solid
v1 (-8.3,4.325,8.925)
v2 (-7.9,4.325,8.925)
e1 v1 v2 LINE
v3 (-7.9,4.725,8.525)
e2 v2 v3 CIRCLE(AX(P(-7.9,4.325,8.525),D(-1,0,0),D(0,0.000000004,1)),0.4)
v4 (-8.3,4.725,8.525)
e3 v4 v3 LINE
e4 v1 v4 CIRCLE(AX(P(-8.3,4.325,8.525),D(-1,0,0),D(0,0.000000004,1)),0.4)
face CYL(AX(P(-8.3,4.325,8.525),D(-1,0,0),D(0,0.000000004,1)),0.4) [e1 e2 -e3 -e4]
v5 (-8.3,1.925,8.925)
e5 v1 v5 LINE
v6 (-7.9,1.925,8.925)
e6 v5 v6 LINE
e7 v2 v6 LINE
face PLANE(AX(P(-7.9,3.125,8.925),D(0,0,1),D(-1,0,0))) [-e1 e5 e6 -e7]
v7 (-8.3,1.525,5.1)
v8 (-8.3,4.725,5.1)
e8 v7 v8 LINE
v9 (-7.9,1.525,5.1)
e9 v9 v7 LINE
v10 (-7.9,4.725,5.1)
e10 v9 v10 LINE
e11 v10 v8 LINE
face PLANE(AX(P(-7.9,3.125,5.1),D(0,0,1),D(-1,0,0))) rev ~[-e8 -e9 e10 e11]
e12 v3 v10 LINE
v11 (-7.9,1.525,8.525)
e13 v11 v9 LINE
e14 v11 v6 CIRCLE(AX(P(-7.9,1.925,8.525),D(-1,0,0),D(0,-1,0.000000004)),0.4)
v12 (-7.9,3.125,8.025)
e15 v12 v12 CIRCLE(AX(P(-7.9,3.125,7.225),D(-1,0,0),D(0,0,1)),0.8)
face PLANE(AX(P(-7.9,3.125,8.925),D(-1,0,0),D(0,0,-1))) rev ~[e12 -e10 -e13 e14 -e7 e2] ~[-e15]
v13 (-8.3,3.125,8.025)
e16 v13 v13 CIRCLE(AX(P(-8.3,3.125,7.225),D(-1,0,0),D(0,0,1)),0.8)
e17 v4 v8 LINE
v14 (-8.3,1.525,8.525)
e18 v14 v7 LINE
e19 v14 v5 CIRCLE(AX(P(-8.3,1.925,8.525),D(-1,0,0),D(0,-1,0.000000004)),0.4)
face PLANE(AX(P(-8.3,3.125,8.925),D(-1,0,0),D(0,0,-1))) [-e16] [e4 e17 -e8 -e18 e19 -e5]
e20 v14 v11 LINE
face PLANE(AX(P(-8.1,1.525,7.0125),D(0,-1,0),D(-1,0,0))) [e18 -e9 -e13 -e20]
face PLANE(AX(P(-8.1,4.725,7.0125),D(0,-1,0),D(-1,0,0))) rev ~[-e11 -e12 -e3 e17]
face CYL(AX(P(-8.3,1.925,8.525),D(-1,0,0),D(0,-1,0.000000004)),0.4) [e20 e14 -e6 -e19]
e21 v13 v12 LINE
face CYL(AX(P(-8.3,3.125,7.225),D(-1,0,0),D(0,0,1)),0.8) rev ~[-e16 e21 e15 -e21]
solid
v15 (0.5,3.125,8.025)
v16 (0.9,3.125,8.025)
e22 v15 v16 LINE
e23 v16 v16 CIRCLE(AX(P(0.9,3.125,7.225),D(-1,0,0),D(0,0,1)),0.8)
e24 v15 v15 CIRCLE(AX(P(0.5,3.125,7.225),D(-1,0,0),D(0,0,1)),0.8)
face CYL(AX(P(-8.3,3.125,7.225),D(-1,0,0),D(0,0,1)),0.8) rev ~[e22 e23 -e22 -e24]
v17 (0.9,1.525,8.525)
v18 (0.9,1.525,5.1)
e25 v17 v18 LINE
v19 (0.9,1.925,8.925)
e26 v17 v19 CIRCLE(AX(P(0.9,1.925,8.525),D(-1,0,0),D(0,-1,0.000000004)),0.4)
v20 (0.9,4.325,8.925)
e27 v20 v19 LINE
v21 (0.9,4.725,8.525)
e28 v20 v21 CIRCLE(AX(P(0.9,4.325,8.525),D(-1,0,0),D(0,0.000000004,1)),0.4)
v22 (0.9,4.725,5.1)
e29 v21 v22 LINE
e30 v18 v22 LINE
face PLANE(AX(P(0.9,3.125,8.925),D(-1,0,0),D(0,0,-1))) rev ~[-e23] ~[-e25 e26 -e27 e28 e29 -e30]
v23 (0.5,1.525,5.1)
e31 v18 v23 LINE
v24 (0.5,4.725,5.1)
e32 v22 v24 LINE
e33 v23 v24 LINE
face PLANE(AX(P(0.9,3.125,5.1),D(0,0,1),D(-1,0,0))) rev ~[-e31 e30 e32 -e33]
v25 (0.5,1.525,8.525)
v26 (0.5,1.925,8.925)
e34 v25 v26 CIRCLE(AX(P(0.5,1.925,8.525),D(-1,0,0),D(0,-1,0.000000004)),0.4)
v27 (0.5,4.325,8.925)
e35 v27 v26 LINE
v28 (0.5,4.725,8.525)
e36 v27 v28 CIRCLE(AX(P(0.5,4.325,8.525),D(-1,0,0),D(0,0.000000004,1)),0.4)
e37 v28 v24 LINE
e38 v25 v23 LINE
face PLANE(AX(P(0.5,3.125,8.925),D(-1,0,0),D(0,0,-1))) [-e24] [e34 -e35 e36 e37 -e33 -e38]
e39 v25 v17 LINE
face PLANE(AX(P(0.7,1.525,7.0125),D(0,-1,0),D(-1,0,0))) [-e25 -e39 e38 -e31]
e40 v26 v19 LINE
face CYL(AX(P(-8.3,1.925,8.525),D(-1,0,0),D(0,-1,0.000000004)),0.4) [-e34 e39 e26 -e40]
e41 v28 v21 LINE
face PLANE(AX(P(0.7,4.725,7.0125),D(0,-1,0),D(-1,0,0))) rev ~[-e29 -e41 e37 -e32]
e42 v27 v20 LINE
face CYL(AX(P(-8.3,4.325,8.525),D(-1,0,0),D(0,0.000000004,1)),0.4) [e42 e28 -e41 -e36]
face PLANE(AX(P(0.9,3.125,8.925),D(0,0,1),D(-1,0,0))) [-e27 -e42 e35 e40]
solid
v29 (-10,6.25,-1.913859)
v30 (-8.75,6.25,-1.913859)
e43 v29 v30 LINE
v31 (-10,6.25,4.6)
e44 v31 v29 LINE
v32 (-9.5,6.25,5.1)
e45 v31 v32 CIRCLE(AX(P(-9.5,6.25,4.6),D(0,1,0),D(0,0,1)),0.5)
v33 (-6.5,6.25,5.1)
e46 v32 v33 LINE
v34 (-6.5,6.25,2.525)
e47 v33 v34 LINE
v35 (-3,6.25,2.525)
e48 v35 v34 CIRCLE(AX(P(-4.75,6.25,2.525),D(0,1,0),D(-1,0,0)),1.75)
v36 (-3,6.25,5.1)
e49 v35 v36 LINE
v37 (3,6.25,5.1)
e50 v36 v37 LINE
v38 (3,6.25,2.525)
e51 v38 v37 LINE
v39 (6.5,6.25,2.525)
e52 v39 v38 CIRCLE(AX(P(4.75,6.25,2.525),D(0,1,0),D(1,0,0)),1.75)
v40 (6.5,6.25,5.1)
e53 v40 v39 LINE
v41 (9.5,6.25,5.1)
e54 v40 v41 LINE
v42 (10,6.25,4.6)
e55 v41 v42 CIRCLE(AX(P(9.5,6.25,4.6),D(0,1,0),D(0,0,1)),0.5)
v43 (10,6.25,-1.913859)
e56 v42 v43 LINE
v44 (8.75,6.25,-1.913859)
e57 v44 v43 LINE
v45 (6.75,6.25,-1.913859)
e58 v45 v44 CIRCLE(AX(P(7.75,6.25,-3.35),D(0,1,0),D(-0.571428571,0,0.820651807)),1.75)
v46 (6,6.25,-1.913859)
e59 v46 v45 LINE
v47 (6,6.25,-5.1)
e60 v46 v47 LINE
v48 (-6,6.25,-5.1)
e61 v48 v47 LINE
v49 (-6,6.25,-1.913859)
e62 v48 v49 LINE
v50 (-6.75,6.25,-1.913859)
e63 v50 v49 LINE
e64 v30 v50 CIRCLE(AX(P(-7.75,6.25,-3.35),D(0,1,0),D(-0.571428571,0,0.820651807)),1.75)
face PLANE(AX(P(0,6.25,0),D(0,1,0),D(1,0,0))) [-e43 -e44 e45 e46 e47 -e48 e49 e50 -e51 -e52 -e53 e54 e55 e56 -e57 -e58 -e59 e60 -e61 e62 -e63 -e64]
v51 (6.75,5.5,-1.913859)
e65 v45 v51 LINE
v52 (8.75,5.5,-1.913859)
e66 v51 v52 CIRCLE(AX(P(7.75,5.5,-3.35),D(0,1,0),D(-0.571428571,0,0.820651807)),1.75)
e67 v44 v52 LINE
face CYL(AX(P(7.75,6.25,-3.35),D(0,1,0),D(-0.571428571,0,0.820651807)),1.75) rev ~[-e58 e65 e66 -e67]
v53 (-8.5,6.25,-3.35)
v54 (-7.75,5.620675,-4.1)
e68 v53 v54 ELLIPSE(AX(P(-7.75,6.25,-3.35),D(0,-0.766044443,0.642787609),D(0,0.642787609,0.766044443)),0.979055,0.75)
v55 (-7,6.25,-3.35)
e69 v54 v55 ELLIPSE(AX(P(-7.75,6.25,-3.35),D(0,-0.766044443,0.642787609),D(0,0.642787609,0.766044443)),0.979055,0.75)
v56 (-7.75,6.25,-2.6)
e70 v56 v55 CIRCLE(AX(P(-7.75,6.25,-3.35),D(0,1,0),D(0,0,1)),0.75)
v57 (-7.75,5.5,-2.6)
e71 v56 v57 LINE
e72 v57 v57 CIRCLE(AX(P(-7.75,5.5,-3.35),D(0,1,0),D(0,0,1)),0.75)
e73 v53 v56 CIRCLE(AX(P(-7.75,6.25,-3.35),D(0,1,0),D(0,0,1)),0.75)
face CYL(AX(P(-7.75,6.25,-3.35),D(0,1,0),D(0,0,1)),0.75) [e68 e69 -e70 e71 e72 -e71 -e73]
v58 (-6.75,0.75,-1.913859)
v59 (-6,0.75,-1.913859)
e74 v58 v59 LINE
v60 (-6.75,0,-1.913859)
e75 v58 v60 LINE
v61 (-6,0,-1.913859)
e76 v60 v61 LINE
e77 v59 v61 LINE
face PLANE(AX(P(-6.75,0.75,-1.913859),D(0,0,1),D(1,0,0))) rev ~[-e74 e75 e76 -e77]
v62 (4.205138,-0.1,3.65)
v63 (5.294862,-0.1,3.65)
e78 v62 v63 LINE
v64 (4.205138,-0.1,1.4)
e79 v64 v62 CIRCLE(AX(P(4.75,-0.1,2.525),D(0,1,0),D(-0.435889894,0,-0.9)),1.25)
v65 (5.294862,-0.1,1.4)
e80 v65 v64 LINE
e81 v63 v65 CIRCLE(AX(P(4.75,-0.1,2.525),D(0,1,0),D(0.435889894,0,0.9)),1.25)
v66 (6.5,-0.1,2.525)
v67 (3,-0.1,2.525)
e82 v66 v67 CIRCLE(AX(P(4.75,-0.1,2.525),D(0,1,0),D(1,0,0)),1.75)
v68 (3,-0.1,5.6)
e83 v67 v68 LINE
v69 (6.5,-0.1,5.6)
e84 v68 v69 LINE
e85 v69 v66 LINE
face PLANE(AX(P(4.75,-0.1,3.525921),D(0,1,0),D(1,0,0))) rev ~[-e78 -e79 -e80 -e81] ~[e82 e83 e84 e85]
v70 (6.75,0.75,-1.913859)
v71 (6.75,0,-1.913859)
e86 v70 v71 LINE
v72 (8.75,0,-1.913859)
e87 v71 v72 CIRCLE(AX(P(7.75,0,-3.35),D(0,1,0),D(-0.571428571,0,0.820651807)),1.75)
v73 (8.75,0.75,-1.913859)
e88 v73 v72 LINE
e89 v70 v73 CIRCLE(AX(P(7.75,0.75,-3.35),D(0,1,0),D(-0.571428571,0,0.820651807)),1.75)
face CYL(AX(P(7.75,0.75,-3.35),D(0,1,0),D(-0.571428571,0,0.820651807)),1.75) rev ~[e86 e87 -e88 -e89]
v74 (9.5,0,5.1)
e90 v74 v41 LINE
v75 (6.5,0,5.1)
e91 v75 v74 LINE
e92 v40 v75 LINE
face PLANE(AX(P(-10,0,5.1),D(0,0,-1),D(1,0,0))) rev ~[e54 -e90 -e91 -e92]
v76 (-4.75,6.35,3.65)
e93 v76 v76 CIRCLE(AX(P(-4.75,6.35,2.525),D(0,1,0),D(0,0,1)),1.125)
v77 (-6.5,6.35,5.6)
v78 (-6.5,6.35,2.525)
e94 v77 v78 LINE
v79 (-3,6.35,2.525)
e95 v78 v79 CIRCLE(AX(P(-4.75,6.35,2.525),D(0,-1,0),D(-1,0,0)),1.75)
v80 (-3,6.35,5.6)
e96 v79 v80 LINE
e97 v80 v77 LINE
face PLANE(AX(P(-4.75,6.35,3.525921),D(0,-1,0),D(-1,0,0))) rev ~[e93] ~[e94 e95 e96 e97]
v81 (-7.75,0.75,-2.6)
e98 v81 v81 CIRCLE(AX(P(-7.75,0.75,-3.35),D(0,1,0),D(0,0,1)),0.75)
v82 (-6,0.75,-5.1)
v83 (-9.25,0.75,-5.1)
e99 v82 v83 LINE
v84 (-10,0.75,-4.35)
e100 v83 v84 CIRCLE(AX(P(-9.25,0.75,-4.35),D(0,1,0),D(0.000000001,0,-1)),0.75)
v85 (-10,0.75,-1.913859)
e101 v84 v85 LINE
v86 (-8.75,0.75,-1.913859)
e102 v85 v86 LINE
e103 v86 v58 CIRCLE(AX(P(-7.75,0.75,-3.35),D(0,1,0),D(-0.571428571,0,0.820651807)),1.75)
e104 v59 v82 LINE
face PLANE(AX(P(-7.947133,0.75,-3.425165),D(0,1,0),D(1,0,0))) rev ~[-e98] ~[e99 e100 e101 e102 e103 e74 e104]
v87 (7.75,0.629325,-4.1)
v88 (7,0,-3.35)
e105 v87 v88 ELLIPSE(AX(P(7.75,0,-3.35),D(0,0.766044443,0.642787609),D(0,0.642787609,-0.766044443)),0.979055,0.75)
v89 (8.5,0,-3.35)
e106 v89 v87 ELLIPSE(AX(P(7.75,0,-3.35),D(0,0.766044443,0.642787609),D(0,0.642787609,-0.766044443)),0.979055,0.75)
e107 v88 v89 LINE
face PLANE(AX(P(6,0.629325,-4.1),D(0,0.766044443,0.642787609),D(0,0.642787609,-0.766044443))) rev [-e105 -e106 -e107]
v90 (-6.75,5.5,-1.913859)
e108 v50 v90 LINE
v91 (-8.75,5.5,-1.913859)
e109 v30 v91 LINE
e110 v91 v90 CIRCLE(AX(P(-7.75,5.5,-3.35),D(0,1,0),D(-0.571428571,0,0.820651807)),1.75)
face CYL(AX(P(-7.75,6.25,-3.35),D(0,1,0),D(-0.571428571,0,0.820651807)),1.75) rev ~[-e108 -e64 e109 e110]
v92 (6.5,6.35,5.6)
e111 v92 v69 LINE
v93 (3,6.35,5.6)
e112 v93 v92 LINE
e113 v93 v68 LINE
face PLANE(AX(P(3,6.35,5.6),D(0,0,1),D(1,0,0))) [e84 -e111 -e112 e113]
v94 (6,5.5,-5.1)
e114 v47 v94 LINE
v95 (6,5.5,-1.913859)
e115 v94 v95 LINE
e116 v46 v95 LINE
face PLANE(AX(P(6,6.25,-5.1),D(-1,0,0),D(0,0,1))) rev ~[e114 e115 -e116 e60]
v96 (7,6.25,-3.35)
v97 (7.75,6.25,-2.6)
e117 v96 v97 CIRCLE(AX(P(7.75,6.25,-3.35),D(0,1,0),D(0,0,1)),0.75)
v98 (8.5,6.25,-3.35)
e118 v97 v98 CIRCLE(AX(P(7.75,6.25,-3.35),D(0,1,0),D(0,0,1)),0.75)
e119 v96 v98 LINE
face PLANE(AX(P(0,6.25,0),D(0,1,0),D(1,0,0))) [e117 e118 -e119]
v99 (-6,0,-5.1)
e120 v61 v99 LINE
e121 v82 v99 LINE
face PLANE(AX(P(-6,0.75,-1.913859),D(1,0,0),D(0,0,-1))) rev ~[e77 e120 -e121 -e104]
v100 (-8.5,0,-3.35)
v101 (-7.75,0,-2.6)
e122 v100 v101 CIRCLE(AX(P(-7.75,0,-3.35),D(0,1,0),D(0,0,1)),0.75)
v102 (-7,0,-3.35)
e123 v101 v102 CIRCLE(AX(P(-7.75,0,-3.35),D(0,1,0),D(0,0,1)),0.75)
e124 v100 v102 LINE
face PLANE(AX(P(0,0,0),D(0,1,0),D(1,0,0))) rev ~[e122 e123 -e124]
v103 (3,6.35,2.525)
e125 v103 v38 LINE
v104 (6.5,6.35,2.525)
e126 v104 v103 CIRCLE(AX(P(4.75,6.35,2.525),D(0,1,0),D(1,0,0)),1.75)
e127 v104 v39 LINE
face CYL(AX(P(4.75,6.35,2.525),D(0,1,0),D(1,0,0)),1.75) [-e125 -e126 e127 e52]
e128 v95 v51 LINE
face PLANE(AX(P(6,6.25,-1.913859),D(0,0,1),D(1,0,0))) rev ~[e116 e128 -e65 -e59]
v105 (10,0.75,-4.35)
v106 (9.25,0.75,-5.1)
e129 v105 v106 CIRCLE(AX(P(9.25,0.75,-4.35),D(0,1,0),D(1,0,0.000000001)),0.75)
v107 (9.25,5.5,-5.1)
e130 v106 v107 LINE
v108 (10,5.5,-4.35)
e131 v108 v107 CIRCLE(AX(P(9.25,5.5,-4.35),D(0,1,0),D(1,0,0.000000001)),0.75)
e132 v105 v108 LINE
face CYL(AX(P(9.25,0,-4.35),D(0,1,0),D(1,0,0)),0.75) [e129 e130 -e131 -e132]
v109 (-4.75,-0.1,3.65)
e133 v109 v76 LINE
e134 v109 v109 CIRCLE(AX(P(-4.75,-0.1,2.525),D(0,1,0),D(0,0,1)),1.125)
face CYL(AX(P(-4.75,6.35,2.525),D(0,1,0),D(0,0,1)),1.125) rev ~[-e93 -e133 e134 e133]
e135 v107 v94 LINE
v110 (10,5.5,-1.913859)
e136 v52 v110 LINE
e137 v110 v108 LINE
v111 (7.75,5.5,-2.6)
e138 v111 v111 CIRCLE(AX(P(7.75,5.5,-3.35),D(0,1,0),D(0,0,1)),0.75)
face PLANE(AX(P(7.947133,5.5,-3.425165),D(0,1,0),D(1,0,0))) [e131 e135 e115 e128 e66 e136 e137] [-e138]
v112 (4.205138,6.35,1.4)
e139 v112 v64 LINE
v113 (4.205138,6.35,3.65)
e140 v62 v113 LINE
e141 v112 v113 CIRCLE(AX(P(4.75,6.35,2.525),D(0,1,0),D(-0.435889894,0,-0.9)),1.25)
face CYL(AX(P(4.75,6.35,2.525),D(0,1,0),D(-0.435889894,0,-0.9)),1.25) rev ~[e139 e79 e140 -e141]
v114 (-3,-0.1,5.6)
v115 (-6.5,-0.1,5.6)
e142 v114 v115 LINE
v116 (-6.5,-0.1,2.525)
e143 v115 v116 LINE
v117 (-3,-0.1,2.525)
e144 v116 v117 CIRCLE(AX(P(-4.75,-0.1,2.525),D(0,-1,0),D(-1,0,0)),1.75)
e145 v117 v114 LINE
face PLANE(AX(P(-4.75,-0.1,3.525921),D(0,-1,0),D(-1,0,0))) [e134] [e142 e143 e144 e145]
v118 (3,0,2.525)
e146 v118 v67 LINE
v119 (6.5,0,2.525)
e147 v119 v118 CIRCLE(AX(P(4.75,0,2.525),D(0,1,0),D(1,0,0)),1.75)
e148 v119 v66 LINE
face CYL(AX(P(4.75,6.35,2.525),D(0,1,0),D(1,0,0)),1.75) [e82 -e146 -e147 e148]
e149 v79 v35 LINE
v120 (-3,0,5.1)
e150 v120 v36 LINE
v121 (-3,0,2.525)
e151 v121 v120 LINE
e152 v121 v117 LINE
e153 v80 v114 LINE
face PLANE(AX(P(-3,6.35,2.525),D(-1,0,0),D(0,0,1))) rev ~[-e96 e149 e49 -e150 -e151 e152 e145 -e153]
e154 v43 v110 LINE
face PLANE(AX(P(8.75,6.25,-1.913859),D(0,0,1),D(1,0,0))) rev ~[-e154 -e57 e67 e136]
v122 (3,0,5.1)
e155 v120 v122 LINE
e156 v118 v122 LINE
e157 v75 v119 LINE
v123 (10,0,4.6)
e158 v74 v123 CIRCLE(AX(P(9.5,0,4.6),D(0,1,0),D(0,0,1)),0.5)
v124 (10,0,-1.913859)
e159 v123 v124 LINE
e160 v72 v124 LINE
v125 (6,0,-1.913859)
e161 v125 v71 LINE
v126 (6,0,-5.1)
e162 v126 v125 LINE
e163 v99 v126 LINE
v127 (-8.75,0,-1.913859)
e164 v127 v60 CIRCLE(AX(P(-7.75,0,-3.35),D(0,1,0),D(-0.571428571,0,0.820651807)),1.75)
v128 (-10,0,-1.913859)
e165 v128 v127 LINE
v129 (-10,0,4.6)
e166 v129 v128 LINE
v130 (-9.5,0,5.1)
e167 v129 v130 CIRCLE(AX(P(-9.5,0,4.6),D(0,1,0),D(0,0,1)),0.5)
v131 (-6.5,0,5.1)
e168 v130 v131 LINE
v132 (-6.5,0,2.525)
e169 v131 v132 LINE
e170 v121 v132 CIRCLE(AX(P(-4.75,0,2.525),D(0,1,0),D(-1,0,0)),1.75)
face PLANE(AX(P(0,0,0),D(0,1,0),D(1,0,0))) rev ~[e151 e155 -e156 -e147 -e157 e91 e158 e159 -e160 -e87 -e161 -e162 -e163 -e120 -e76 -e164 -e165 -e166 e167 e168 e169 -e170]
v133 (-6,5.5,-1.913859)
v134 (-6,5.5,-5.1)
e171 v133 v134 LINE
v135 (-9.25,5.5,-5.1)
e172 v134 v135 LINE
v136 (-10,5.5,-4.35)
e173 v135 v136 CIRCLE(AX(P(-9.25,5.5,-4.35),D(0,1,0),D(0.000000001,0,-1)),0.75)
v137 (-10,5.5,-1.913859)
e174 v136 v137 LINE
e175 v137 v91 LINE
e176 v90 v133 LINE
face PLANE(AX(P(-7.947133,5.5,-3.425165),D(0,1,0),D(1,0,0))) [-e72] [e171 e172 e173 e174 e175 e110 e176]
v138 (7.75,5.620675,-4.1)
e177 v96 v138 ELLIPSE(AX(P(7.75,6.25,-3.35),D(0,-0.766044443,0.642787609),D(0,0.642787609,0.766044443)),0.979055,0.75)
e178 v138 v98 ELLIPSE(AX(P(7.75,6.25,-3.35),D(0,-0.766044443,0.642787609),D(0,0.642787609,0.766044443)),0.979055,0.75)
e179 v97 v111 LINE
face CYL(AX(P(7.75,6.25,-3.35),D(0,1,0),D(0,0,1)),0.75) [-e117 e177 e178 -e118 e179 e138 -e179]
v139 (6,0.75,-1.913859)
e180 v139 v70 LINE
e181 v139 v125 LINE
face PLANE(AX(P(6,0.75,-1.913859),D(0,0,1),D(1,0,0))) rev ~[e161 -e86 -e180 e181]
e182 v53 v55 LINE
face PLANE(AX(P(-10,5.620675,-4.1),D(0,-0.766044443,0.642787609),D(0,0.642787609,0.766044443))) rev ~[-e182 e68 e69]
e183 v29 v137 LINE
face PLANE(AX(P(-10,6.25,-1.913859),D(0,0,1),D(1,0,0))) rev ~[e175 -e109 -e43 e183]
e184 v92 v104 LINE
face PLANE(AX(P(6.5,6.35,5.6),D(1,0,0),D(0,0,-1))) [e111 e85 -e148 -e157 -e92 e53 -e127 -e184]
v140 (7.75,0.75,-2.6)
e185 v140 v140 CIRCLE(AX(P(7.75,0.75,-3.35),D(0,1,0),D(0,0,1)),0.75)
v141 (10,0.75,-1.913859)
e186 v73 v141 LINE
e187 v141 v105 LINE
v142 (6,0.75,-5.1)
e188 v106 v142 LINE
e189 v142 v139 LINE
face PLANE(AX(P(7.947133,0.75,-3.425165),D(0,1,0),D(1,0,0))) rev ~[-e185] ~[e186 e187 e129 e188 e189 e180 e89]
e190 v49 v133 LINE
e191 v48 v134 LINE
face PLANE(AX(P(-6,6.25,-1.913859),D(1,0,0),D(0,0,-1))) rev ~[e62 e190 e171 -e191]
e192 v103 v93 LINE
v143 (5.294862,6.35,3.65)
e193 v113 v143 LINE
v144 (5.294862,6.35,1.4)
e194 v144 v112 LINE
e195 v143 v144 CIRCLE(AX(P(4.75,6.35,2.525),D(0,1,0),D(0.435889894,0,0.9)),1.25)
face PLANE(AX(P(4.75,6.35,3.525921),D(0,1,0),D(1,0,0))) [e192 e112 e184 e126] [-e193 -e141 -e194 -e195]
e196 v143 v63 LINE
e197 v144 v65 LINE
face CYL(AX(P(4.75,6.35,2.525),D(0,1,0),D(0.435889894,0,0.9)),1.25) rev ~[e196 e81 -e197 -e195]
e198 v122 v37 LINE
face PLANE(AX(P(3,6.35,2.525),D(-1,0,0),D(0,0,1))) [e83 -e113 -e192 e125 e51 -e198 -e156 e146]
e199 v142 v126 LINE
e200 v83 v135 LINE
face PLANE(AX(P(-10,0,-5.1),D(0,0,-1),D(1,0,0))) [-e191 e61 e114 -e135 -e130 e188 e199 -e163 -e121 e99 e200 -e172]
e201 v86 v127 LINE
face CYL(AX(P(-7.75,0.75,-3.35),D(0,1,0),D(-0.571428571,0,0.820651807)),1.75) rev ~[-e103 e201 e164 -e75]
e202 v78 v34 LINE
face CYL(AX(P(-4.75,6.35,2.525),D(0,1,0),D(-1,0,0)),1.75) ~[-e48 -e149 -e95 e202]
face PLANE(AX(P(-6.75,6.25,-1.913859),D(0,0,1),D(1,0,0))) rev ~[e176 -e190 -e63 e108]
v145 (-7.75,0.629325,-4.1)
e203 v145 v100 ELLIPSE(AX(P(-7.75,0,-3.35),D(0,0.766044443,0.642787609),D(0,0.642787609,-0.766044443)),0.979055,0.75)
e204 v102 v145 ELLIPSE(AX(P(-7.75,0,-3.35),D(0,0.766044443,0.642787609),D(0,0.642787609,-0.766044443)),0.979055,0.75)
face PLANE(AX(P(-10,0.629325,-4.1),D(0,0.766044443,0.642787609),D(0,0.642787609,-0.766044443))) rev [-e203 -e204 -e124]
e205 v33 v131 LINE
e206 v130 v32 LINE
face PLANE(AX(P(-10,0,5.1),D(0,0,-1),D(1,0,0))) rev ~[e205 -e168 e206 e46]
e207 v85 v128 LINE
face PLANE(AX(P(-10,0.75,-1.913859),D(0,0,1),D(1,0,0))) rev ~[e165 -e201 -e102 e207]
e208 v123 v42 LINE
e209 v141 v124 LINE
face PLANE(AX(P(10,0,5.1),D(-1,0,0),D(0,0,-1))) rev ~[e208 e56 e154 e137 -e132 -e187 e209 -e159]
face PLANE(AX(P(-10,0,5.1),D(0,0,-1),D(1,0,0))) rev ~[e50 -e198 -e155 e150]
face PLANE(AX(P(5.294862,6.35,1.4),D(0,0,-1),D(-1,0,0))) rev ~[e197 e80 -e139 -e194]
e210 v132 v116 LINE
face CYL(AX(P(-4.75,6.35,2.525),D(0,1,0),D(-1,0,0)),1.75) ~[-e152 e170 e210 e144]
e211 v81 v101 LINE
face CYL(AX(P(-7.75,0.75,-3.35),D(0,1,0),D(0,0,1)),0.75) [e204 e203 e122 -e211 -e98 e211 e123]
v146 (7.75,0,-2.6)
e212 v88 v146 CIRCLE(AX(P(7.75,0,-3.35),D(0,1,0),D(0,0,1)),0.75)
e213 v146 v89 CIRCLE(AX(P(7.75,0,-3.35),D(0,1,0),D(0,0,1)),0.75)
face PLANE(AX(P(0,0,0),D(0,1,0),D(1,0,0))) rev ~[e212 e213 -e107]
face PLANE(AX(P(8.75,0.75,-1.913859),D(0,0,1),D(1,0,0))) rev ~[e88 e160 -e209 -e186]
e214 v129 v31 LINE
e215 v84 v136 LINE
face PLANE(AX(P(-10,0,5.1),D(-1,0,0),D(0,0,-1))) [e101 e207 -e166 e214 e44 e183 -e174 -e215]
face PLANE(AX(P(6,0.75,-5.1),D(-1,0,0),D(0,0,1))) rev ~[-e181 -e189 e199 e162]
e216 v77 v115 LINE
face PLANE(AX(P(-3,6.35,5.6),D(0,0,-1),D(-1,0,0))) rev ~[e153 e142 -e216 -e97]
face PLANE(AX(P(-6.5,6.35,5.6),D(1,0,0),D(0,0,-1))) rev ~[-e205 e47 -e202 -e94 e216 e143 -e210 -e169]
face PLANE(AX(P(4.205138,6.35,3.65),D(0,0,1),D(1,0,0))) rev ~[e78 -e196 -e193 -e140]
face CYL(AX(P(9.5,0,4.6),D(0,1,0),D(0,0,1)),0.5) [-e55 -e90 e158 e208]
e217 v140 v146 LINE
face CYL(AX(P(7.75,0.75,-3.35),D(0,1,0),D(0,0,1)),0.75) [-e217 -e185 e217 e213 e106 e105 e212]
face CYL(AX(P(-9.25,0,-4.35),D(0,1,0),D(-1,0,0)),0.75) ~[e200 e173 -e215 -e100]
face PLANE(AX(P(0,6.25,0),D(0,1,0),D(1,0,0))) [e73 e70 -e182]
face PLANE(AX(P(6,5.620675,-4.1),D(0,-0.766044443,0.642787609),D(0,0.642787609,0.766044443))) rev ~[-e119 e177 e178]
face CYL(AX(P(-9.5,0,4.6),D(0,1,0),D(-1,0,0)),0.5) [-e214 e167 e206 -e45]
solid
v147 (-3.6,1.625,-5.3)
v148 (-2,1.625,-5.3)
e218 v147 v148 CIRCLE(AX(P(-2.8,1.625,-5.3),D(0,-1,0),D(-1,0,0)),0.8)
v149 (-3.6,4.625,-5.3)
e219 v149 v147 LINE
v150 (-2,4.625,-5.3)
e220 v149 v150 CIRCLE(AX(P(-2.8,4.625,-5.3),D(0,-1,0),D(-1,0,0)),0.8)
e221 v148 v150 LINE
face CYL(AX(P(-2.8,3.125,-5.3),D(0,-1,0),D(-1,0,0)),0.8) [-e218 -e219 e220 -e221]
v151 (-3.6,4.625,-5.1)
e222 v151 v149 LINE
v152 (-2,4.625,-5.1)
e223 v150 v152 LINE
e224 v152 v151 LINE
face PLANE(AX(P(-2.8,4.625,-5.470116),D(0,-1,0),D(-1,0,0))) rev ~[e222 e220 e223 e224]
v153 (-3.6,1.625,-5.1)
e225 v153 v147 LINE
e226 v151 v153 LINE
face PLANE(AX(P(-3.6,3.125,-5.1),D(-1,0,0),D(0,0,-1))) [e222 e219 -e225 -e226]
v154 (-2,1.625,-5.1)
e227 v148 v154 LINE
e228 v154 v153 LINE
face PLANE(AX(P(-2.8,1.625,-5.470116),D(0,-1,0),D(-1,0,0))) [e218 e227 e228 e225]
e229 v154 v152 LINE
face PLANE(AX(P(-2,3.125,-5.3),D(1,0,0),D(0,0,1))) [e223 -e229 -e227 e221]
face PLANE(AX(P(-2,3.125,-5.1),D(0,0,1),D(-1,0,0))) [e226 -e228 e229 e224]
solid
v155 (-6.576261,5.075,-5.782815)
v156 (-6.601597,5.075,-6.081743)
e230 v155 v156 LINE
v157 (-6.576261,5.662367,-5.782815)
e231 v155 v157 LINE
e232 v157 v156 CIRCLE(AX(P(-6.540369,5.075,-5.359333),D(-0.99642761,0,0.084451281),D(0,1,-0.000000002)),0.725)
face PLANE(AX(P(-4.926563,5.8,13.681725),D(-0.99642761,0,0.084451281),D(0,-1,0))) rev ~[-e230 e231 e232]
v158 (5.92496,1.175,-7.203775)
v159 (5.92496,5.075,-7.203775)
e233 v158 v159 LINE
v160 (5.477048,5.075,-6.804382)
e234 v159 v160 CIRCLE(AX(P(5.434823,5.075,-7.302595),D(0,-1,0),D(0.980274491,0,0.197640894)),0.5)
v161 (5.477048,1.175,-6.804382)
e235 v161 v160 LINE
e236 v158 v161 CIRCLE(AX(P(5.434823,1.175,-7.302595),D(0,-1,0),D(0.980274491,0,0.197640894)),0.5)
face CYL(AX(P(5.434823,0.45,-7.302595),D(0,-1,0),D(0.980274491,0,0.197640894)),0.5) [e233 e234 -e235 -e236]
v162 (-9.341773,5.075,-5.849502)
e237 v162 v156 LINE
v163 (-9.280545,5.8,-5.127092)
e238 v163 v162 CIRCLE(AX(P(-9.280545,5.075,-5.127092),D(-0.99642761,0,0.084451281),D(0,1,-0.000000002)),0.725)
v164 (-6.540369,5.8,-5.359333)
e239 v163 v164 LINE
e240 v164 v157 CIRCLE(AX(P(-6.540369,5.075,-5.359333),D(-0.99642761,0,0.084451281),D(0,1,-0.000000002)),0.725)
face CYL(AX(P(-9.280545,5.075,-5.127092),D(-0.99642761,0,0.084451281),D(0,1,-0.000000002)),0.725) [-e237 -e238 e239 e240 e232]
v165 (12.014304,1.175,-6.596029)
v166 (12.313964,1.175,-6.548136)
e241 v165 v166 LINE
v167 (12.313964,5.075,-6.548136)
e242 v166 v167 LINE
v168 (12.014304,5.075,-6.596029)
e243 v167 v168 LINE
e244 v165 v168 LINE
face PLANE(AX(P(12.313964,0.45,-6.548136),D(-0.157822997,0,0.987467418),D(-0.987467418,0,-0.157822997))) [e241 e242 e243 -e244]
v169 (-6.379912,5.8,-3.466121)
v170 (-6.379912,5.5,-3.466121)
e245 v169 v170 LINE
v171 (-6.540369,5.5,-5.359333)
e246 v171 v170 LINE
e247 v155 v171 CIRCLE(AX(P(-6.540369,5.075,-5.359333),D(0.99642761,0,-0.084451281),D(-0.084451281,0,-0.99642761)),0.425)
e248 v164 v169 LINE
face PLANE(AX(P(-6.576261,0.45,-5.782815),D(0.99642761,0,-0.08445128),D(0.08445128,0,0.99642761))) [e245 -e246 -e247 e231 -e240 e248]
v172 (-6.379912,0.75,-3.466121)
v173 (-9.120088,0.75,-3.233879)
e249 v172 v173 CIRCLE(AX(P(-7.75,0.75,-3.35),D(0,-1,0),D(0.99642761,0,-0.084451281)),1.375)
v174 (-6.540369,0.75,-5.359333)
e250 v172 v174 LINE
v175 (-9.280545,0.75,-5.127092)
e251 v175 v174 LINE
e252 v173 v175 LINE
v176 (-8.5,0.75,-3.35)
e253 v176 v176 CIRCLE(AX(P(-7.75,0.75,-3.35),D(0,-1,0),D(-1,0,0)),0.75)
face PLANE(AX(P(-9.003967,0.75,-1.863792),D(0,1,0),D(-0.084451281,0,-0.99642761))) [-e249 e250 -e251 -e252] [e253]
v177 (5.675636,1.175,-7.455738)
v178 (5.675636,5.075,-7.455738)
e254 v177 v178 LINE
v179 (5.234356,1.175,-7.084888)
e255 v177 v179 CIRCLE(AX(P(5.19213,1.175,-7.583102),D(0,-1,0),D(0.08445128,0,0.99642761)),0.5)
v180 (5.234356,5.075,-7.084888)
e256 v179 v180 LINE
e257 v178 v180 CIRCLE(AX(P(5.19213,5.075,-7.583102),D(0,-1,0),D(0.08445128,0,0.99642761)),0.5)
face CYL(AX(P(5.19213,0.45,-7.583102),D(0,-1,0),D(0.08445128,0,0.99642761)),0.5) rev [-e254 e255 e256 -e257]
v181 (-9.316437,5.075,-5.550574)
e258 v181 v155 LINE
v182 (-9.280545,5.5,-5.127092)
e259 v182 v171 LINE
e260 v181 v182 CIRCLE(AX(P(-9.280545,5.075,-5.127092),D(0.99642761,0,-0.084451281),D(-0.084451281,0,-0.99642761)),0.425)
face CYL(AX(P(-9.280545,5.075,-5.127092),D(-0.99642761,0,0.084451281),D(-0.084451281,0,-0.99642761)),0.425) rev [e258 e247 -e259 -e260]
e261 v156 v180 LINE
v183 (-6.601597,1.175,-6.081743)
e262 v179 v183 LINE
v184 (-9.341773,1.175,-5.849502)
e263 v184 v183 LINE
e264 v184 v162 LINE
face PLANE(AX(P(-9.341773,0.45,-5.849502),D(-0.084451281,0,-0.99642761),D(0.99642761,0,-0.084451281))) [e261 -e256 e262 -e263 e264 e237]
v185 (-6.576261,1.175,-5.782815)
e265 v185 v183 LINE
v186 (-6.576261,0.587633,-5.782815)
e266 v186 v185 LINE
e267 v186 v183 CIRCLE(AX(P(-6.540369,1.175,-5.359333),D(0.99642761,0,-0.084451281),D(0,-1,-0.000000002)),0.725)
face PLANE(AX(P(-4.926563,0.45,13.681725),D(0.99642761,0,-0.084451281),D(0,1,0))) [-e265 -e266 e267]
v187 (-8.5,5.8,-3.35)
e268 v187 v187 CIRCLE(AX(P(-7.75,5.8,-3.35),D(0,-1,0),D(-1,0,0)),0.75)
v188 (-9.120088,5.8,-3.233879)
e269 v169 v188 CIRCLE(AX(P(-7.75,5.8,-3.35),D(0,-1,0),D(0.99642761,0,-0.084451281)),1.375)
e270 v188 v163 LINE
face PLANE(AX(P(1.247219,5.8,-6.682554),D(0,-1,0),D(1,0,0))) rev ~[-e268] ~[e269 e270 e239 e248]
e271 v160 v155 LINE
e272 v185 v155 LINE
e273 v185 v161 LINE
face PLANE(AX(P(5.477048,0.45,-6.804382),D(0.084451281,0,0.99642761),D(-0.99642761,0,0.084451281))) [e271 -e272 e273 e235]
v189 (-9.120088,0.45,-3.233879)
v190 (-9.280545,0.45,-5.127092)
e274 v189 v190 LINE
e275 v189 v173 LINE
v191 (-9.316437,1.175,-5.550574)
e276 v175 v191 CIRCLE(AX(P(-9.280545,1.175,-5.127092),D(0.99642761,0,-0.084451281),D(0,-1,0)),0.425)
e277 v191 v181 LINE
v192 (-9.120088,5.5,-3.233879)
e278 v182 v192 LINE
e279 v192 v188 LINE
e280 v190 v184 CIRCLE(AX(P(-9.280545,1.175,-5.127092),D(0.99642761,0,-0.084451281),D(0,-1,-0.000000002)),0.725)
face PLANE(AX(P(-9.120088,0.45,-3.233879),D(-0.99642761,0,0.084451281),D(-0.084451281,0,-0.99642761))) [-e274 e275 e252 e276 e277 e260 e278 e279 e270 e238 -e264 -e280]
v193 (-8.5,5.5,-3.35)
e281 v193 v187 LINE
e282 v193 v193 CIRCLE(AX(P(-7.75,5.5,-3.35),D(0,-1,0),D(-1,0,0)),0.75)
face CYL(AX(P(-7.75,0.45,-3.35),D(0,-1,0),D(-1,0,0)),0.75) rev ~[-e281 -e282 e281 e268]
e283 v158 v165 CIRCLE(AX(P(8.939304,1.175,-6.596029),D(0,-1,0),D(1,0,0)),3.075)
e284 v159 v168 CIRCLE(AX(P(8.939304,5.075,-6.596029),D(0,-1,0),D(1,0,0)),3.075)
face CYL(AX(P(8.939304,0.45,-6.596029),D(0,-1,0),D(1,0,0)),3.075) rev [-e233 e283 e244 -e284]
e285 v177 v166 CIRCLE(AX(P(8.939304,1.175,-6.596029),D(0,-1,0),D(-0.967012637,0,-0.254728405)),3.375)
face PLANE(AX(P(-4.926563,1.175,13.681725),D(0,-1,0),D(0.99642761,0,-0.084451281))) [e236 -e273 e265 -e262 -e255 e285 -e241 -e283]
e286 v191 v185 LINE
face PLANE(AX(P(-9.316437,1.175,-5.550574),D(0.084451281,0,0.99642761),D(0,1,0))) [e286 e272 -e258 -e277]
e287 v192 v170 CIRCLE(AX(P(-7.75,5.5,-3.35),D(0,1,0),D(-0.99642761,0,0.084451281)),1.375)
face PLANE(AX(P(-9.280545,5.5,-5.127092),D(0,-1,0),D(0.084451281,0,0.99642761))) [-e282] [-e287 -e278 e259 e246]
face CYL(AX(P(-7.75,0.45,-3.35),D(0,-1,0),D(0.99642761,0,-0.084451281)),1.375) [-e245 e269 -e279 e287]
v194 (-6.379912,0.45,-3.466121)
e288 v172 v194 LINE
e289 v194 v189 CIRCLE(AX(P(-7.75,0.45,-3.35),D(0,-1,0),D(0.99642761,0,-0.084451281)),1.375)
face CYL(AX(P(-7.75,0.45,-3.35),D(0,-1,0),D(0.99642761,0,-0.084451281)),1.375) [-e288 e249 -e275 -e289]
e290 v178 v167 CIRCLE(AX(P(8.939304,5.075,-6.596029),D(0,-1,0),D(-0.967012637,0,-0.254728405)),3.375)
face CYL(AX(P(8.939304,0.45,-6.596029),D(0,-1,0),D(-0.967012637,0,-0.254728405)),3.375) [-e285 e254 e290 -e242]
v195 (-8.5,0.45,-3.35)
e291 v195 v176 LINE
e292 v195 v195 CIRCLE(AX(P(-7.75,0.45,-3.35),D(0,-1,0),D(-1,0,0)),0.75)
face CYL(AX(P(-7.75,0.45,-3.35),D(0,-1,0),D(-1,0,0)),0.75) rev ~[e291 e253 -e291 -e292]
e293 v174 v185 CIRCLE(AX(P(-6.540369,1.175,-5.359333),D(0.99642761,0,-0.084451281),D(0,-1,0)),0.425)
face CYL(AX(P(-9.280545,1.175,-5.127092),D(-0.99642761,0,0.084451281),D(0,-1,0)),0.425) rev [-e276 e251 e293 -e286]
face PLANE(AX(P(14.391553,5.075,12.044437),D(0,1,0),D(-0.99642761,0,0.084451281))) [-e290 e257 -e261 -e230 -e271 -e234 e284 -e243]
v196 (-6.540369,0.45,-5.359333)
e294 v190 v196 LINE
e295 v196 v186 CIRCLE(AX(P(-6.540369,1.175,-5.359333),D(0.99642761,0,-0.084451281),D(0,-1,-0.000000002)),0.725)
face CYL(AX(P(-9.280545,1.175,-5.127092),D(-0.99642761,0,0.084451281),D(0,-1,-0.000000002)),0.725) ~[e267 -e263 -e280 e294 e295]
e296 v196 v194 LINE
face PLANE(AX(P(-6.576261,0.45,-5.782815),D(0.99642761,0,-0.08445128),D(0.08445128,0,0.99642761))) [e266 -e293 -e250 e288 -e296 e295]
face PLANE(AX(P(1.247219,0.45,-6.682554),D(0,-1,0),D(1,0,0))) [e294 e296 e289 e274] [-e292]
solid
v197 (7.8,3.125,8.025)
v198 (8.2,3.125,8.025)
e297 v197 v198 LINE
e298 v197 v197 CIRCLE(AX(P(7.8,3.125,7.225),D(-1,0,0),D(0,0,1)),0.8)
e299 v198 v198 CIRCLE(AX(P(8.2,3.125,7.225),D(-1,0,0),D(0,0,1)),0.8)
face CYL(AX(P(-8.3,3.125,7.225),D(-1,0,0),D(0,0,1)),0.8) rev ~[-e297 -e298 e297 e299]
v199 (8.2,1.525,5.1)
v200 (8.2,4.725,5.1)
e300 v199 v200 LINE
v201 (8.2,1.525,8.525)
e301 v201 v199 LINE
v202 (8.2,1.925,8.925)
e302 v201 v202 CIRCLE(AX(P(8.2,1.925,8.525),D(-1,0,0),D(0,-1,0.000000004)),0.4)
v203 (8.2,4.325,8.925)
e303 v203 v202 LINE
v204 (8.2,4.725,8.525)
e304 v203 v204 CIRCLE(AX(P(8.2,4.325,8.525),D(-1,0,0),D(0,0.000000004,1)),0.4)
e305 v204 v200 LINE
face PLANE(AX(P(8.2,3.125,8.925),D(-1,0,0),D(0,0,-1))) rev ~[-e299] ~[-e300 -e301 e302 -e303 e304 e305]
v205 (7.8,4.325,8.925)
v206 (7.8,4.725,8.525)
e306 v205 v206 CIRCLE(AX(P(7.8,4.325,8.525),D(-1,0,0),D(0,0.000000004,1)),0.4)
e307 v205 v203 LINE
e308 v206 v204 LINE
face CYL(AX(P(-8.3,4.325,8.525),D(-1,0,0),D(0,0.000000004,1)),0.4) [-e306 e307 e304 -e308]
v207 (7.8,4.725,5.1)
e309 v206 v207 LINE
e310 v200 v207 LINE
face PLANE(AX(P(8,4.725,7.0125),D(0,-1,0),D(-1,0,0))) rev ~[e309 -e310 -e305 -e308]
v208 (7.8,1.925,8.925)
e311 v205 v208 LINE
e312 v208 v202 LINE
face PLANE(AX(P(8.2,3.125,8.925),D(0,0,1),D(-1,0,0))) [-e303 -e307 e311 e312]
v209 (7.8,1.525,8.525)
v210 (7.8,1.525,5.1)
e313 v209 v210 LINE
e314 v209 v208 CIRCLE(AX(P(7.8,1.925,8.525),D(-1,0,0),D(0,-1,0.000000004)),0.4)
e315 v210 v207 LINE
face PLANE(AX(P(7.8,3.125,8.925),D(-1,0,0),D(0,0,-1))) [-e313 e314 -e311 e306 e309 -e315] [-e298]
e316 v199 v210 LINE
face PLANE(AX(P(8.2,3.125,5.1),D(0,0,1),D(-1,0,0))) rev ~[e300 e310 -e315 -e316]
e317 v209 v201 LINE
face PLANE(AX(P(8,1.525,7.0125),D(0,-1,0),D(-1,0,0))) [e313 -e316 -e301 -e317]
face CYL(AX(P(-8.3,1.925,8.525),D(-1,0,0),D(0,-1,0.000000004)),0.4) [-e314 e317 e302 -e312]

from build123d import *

# Parameters (mm, degrees)
SKETCH1_W               = 20
SKETCH1_H               = 10.2
BOSS_EXTRUDE1_DEPTH     = 6.25
FILLET1_R               = 0.75
FILLET2_R               = 0.5
SKETCH2_R               = 1.125
CUT_EXTRUDE1_DEPTH      = 13.848054327
BOSS_EXTRUDE2_START     = 0.1
SKETCH3_R               = 1.125
BOSS_EXTRUDE2_DEPTH     = 6.45
SKETCH4_R               = 0.75
CUT_EXTRUDE2_DEPTH      = 0.75
CUT_EXTRUDE3_START      = -5.5
SKETCH4_4_R             = 0.75
CUT_EXTRUDE3_DEPTH      = 0.75
CUT_EXTRUDE4_REACH      = 23.718
CUT_EXTRUDE5_START      = -16
CUT_EXTRUDE5_DEPTH      = 4
BOSS_EXTRUDE4_DEPTH     = 1.5
BOSS_EXTRUDE5_START     = 0.3
BOSS_EXTRUDE5_DEPTH     = 5.35
CUT_EXTRUDE6_DEPTH      = 19.834324064
CUT_EXTRUDE6_DEPTH_BACK = 19.834324064
CUT_EXTRUDE7_DEPTH      = 2.75
SKETCH10_W              = 0.4
SKETCH10_H              = 3.825
BOSS_EXTRUDE6_DEPTH     = 1.6
BOSS_EXTRUDE6_2_DEPTH   = 1.6
BOSS_EXTRUDE6_3_DEPTH   = 1.6
SKETCH11_R              = 0.8
CUT_EXTRUDE8_DEPTH      = 24.763279458


with BuildPart() as part:
    # Sketch1 → Boss-Extrude1 (new body)
    with BuildSketch(Plane(origin=(0, 0, 0), x_dir=(1, 0, 0), z_dir=(0, 1, 0))):
        Rectangle(SKETCH1_W, SKETCH1_H)
    extrude(amount=BOSS_EXTRUDE1_DEPTH)

    # Fillet1
    fillet1_edges = [part.edges().sort_by_distance(p)[0] for p in [
        (-10, 3.125, -5.1),
        (10, 3.125, -5.1),
    ]]
    fillet(fillet1_edges, radius=FILLET1_R)

    # Fillet2
    fillet2_edges = [part.edges().sort_by_distance(p)[0] for p in [
        (10, 3.125, 5.1),
        (-10, 3.125, 5.1),
    ]]
    fillet(fillet2_edges, radius=FILLET2_R)

    # Sketch2 → Cut-Extrude1 (cut, through all)
    with BuildSketch(Plane(origin=(0, 6.25, 0), x_dir=(1, 0, 0), z_dir=(0, 1, 0))):
        with Locations(Location((-4.75, -2.525, 0), (0, 0, 270))):
            Circle(SKETCH2_R)
        with BuildLine():
            Line((5.294862368, -1.4), (4.205137632, -1.4))
            ThreePointArc((4.205137632, -1.4), (3.5, -2.525), (4.205137632, -3.65))
            Line((4.205137632, -3.65), (5.294862368, -3.65))
            ThreePointArc((5.294862368, -3.65), (6, -2.525), (5.294862368, -1.4))
        make_face()
    extrude(amount=-CUT_EXTRUDE1_DEPTH, mode=Mode.SUBTRACT)

    # Sketch3 → Boss-Extrude2 (add)
    # profile 1 of 2: a face of its own
    with BuildSketch(Plane(origin=(0, 6.25, 0), x_dir=(1, 0, 0), z_dir=(0, 1, 0)).offset(BOSS_EXTRUDE2_START)):
        with BuildLine():
            Line((-6.5, -5.1), (-6.5, -2.525))
            ThreePointArc((-6.5, -2.525), (-4.75, -0.775), (-3, -2.525))
            Line((-3, -2.525), (-3, -5.1))
            Line((-3, -5.1), (-3, -5.6))
            Line((-3, -5.6), (-6.5, -5.6))
            Line((-6.5, -5.6), (-6.5, -5.1))
        make_face()
        with Locations(Location((-4.75, -2.525, 0), (0, 0, 270))):
            Circle(SKETCH3_R, mode=Mode.SUBTRACT)
    # profile 2 of 2: a face of its own
    with BuildSketch(Plane(origin=(0, 6.25, 0), x_dir=(1, 0, 0), z_dir=(0, 1, 0)).offset(BOSS_EXTRUDE2_START)):
        with BuildLine():
            Line((6.5, -5.6), (6.5, -5.1))
            Line((6.5, -5.1), (6.5, -2.525))
            ThreePointArc((6.5, -2.525), (4.75, -0.775), (3, -2.525))
            Line((3, -2.525), (3, -5.1))
            Line((3, -5.1), (3, -5.6))
            Line((3, -5.6), (6.5, -5.6))
        make_face()
        with BuildLine():
            Line((4.205137632, -3.65), (5.294862368, -3.65))
            ThreePointArc((5.294862368, -3.65), (6, -2.525), (5.294862368, -1.4))
            Line((5.294862368, -1.4), (4.205137632, -1.4))
            ThreePointArc((4.205137632, -1.4), (3.5, -2.525), (4.205137632, -3.65))
        make_face(mode=Mode.SUBTRACT)
    extrude(amount=-BOSS_EXTRUDE2_DEPTH)

    # Sketch4 → Cut-Extrude2 (cut)
    # profile 1 of 2: a face of its own
    with BuildSketch(Plane(origin=(0, 6.25, 0), x_dir=(1, 0, 0), z_dir=(0, 1, 0))):
        with BuildLine():
            Line((-6, 1.913859338), (-6, 5.1))
            Line((-6, 5.1), (-9.25, 5.1))
            ThreePointArc((-9.25, 5.1), (-9.780330086, 4.880330086), (-10, 4.35))
            Line((-10, 4.35), (-10, 1.913859338))
            Line((-10, 1.913859338), (-8.75, 1.913859338))
            ThreePointArc((-8.75, 1.913859338), (-7.75, 1.6), (-6.75, 1.913859338))
            Line((-6.75, 1.913859338), (-6, 1.913859338))
        make_face()
        with Locations(Location((-7.75, 3.35, 0), (0, 0, 270))):
            Circle(SKETCH4_R, mode=Mode.SUBTRACT)
    # profile 2 of 2: a face of its own
    with BuildSketch(Plane(origin=(0, 6.25, 0), x_dir=(1, 0, 0), z_dir=(0, 1, 0))):
        with BuildLine():
            Line((9.25, 5.1), (6, 5.1))
            Line((6, 5.1), (6, 1.913859338))
            Line((6, 1.913859338), (6.75, 1.913859338))
            ThreePointArc((6.75, 1.913859338), (7.75, 1.6), (8.75, 1.913859338))
            Line((8.75, 1.913859338), (10, 1.913859338))
            Line((10, 1.913859338), (10, 4.35))
            ThreePointArc((10, 4.35), (9.780330086, 4.880330086), (9.25, 5.1))
        make_face()
        with Locations(Location((7.75, 3.35, 0), (0, 0, 270))):
            Circle(SKETCH4_R, mode=Mode.SUBTRACT)
    extrude(amount=-CUT_EXTRUDE2_DEPTH, mode=Mode.SUBTRACT)

    # Sketch4<4> → Cut-Extrude3 (cut)
    # profile 1 of 2: a face of its own
    with BuildSketch(Plane(origin=(0, 6.25, 0), x_dir=(1, 0, 0), z_dir=(0, 1, 0)).offset(CUT_EXTRUDE3_START)):
        with BuildLine():
            Line((-6, 1.913859338), (-6, 5.1))
            Line((-6, 5.1), (-9.25, 5.1))
            ThreePointArc((-9.25, 5.1), (-9.780330086, 4.880330086), (-10, 4.35))
            Line((-10, 4.35), (-10, 1.913859338))
            Line((-10, 1.913859338), (-8.75, 1.913859338))
            ThreePointArc((-8.75, 1.913859338), (-7.75, 1.6), (-6.75, 1.913859338))
            Line((-6.75, 1.913859338), (-6, 1.913859338))
        make_face()
        with Locations(Location((-7.75, 3.35, 0), (0, 0, 270))):
            Circle(SKETCH4_4_R, mode=Mode.SUBTRACT)
    # profile 2 of 2: a face of its own
    with BuildSketch(Plane(origin=(0, 6.25, 0), x_dir=(1, 0, 0), z_dir=(0, 1, 0)).offset(CUT_EXTRUDE3_START)):
        with BuildLine():
            Line((9.25, 5.1), (6, 5.1))
            Line((6, 5.1), (6, 1.913859338))
            Line((6, 1.913859338), (6.75, 1.913859338))
            ThreePointArc((6.75, 1.913859338), (7.75, 1.6), (8.75, 1.913859338))
            Line((8.75, 1.913859338), (10, 1.913859338))
            Line((10, 1.913859338), (10, 4.35))
            ThreePointArc((10, 4.35), (9.780330086, 4.880330086), (9.25, 5.1))
        make_face()
        with Locations(Location((7.75, 3.35, 0), (0, 0, 270))):
            Circle(SKETCH4_4_R, mode=Mode.SUBTRACT)
    extrude(amount=-CUT_EXTRUDE3_DEPTH, mode=Mode.SUBTRACT)

    # Cut-Extrude4: up to this face of the body (flat: up to its plane)
    cut_extrude4_end = Plane(part.part.faces().sort_by_distance((-6, 5.875, -3.506929669))[0])
    # Sketch5 → Cut-Extrude4 (cut, up to the picked face)
    with BuildSketch(Plane.ZY.offset(10), mode=Mode.PRIVATE) as cut_extrude4_sk1:
        Polygon((-4.1, 6.25), (-4.1, 5.620675277), (-3.35, 6.25), align=None)
    cut_extrude4_tool1 = split(extrude(cut_extrude4_sk1.sketch, amount=-CUT_EXTRUDE4_REACH, mode=Mode.PRIVATE), bisect_by=cut_extrude4_end, keep=Keep.BOTH, mode=Mode.PRIVATE)
    cut_extrude4 = cut_extrude4_tool1.solids().sort_by(Axis((-10, 6.040225, -3.85), (1, 0, 0)))[0]
    add(cut_extrude4, mode=Mode.SUBTRACT)

    # Sketch5<2> → Cut-Extrude5 (cut)
    with BuildSketch(Plane.ZY.offset(10).offset(CUT_EXTRUDE5_START)):
        Polygon((-4.1, 6.25), (-4.1, 5.620675277), (-3.35, 6.25), align=None)
    cut_extrude5 = extrude(amount=-CUT_EXTRUDE5_DEPTH, mode=Mode.SUBTRACT)

    # Mirror2: Cut-Extrude4, Cut-Extrude5 across plane
    add(cut_extrude4.mirror(Plane(origin=(0, 3.125, 0), x_dir=(0, 0, 1), z_dir=(0, -1, 0))), mode=Mode.SUBTRACT)
    add(cut_extrude5.mirror(Plane(origin=(0, 3.125, 0), x_dir=(0, 0, 1), z_dir=(0, -1, 0))), mode=Mode.SUBTRACT)


with BuildPart() as body_2:
    # Sketch6 → Boss-Extrude4 (new, symmetric)
    with BuildSketch(Plane(origin=(0, 3.125, 0), x_dir=(-1, 0, 0), z_dir=(0, -1, 0))):
        with BuildLine():
            Line((2, 5.1), (3.6, 5.1))
            Line((3.6, 5.1), (3.6, 5.3))
            ThreePointArc((3.6, 5.3), (2.8, 6.1), (2, 5.3))
            Line((2, 5.3), (2, 5.1))
        make_face()
    extrude(amount=BOSS_EXTRUDE4_DEPTH, both=True)


with BuildPart() as body_3:
    # Sketch7 → Boss-Extrude5 (new body)
    with BuildSketch(Plane.XZ.offset(-0.75).offset(BOSS_EXTRUDE5_START)):
        with BuildLine():
            Line((5.477048297, -6.804381566), (-6.576261264, -5.782814703))
            Line((-6.576261264, -5.782814703), (-6.379912037, -3.466120511))
            ThreePointArc((-6.379912037, -3.466120511), (-7.633879489, -1.979912037), (-9.120087963, -3.233879489))
            Line((-9.120087963, -3.233879489), (-9.341772575, -5.849501964))
            Line((-9.341772575, -5.849501964), (5.234355633, -7.084887938))
            ThreePointArc((5.234355633, -7.084887938), (5.513814435, -7.200323583), (5.675636311, -7.455737541))
            ThreePointArc((5.675636311, -7.455737541), (9.396485674, -9.939920602), (12.313964123, -6.54813568))
            Line((12.313964123, -6.54813568), (12.014303961, -6.596029174))
            ThreePointArc((12.014303961, -6.596029174), (9.244686524, -9.655827614), (5.924959902, -7.203774924))
            ThreePointArc((5.924959902, -7.203774924), (5.767585822, -6.929408185), (5.477048297, -6.804381566))
        make_face()
        with BuildLine():
            ThreePointArc((-7, -3.35), (-7.75, -2.6), (-8.5, -3.35))
            ThreePointArc((-8.5, -3.35), (-7.75, -4.1), (-7, -3.35))
        make_face(mode=Mode.SUBTRACT)
    extrude(amount=-BOSS_EXTRUDE5_DEPTH)

    # Sketch8 → Cut-Extrude6 (cut, two sides: drawn at the far end of the back side and taken through both)
    with BuildSketch(Plane(origin=(-0.558858876, 0, -6.593889516), x_dir=(-0.9964276096196082, 0, 0.08445128055721847), z_dir=(-0.08445128055721847, 0, -0.9964276096196082)).offset(-CUT_EXTRUDE6_DEPTH_BACK)):
        Polygon((-6.032120879, 5.8), (6.064402185, 5.8), (6.064402185, 5.075), (-12.82297228, 5.075), (-13.32297228, 5.075), (-13.32297228, 5.8), (-12.82297228, 5.8), align=None)
        Polygon((-6.032120879, 0.45), (6.064402185, 0.45), (6.064402185, 1.175), (-12.82297228, 1.175), (-13.32297228, 1.175), (-13.32297228, 0.45), (-12.82297228, 0.45), align=None)
    extrude(amount=CUT_EXTRUDE6_DEPTH + CUT_EXTRUDE6_DEPTH_BACK, mode=Mode.SUBTRACT)

    # Sketch9 → Cut-Extrude7 (cut)
    with BuildSketch(Plane(origin=(-8.782913699, 0, 0.744387552), x_dir=(0.08445128055721829, 0, 0.9964276096196082), z_dir=(-0.9964276096196082, 0, 0.08445128055721829))):
        with BuildLine():
            Line((-6.617529917, 0.45), (-5.892529917, 0.45))
            ThreePointArc((-5.892529917, 0.45), (-6.405182333, 0.662347584), (-6.617529917, 1.175))
            Line((-6.617529917, 1.175), (-6.617529917, 0.45))
        make_face()
        with BuildLine():
            Line((-6.617529917, 5.8), (-5.892529917, 5.8))
            ThreePointArc((-5.892529917, 5.8), (-6.405182333, 5.587652416), (-6.617529917, 5.075))
            Line((-6.617529917, 5.075), (-6.617529917, 5.8))
        make_face()
        with BuildLine():
            Line((-6.317529917, 1.175), (-6.317529917, 5.075))
            ThreePointArc((-6.317529917, 5.075), (-6.193050299, 5.375520382), (-5.892529917, 5.5))
            Line((-5.892529917, 5.5), (-2.617529917, 5.5))
            Line((-2.617529917, 5.5), (-2.617529917, 0.75))
            Line((-2.617529917, 0.75), (-5.892529917, 0.75))
            ThreePointArc((-5.892529917, 0.75), (-6.193050299, 0.874479618), (-6.317529917, 1.175))
        make_face()
    extrude(amount=-CUT_EXTRUDE7_DEPTH, mode=Mode.SUBTRACT)


with BuildPart() as body_4:
    # Sketch10 → Boss-Extrude6 (new, symmetric)
    with BuildSketch(Plane(origin=(0, 3.125, 0), x_dir=(-1, 0, 0), z_dir=(0, -1, 0))):
        with Locations((-8, -7.0125)):
            Rectangle(SKETCH10_W, SKETCH10_H)
    extrude(amount=BOSS_EXTRUDE6_DEPTH, both=True)


with BuildPart() as body_5:
    # Sketch10 → Boss-Extrude6 2 (new, symmetric)
    with BuildSketch(Plane(origin=(0, 3.125, 0), x_dir=(-1, 0, 0), z_dir=(0, -1, 0))):
        with Locations((-0.7, -7.0125)):
            Rectangle(SKETCH10_W, SKETCH10_H)
    extrude(amount=BOSS_EXTRUDE6_2_DEPTH, both=True)


with BuildPart() as body_6:
    # Sketch10 → Boss-Extrude6 3 (new, symmetric)
    with BuildSketch(Plane(origin=(0, 3.125, 0), x_dir=(-1, 0, 0), z_dir=(0, -1, 0))):
        with Locations((8.1, -7.0125)):
            Rectangle(SKETCH10_W, SKETCH10_H)
    extrude(amount=BOSS_EXTRUDE6_3_DEPTH, both=True)


with BuildPart() as cut_extrude8_tool:
    # Sketch11 → Cut-Extrude8 (new, through all)
    with BuildSketch(Plane.ZY.offset(8.3)):
        with Locations((7.225, 3.125)):
            Circle(SKETCH11_R)
        with BuildLine():
            Line((8.925, 4.725), (8.925, 4.325))
            ThreePointArc((8.925, 4.325), (8.807842712, 4.607842712), (8.525, 4.725))
            Line((8.525, 4.725), (8.925, 4.725))
        make_face()
        with BuildLine():
            Line((8.925, 1.525), (8.525, 1.525))
            ThreePointArc((8.525, 1.525), (8.807842712, 1.642157288), (8.925, 1.925))
            Line((8.925, 1.925), (8.925, 1.525))
        make_face()
    extrude(amount=-CUT_EXTRUDE8_DEPTH)


with BuildPart() as body_4_1:
    add(body_4.part)

    # Cut-Extrude8: cut by cut_extrude8_tool
    add(cut_extrude8_tool.part, mode=Mode.SUBTRACT)


with BuildPart() as body_5_1:
    add(body_5.part)

    # Cut-Extrude8: cut by cut_extrude8_tool
    add(cut_extrude8_tool.part, mode=Mode.SUBTRACT)


with BuildPart() as body_6_1:
    add(body_6.part)

    # Cut-Extrude8: cut by cut_extrude8_tool
    add(cut_extrude8_tool.part, mode=Mode.SUBTRACT)


solid = Compound([part.part, body_2.part, body_3.part, body_4_1.part, body_5_1.part, body_6_1.part])
